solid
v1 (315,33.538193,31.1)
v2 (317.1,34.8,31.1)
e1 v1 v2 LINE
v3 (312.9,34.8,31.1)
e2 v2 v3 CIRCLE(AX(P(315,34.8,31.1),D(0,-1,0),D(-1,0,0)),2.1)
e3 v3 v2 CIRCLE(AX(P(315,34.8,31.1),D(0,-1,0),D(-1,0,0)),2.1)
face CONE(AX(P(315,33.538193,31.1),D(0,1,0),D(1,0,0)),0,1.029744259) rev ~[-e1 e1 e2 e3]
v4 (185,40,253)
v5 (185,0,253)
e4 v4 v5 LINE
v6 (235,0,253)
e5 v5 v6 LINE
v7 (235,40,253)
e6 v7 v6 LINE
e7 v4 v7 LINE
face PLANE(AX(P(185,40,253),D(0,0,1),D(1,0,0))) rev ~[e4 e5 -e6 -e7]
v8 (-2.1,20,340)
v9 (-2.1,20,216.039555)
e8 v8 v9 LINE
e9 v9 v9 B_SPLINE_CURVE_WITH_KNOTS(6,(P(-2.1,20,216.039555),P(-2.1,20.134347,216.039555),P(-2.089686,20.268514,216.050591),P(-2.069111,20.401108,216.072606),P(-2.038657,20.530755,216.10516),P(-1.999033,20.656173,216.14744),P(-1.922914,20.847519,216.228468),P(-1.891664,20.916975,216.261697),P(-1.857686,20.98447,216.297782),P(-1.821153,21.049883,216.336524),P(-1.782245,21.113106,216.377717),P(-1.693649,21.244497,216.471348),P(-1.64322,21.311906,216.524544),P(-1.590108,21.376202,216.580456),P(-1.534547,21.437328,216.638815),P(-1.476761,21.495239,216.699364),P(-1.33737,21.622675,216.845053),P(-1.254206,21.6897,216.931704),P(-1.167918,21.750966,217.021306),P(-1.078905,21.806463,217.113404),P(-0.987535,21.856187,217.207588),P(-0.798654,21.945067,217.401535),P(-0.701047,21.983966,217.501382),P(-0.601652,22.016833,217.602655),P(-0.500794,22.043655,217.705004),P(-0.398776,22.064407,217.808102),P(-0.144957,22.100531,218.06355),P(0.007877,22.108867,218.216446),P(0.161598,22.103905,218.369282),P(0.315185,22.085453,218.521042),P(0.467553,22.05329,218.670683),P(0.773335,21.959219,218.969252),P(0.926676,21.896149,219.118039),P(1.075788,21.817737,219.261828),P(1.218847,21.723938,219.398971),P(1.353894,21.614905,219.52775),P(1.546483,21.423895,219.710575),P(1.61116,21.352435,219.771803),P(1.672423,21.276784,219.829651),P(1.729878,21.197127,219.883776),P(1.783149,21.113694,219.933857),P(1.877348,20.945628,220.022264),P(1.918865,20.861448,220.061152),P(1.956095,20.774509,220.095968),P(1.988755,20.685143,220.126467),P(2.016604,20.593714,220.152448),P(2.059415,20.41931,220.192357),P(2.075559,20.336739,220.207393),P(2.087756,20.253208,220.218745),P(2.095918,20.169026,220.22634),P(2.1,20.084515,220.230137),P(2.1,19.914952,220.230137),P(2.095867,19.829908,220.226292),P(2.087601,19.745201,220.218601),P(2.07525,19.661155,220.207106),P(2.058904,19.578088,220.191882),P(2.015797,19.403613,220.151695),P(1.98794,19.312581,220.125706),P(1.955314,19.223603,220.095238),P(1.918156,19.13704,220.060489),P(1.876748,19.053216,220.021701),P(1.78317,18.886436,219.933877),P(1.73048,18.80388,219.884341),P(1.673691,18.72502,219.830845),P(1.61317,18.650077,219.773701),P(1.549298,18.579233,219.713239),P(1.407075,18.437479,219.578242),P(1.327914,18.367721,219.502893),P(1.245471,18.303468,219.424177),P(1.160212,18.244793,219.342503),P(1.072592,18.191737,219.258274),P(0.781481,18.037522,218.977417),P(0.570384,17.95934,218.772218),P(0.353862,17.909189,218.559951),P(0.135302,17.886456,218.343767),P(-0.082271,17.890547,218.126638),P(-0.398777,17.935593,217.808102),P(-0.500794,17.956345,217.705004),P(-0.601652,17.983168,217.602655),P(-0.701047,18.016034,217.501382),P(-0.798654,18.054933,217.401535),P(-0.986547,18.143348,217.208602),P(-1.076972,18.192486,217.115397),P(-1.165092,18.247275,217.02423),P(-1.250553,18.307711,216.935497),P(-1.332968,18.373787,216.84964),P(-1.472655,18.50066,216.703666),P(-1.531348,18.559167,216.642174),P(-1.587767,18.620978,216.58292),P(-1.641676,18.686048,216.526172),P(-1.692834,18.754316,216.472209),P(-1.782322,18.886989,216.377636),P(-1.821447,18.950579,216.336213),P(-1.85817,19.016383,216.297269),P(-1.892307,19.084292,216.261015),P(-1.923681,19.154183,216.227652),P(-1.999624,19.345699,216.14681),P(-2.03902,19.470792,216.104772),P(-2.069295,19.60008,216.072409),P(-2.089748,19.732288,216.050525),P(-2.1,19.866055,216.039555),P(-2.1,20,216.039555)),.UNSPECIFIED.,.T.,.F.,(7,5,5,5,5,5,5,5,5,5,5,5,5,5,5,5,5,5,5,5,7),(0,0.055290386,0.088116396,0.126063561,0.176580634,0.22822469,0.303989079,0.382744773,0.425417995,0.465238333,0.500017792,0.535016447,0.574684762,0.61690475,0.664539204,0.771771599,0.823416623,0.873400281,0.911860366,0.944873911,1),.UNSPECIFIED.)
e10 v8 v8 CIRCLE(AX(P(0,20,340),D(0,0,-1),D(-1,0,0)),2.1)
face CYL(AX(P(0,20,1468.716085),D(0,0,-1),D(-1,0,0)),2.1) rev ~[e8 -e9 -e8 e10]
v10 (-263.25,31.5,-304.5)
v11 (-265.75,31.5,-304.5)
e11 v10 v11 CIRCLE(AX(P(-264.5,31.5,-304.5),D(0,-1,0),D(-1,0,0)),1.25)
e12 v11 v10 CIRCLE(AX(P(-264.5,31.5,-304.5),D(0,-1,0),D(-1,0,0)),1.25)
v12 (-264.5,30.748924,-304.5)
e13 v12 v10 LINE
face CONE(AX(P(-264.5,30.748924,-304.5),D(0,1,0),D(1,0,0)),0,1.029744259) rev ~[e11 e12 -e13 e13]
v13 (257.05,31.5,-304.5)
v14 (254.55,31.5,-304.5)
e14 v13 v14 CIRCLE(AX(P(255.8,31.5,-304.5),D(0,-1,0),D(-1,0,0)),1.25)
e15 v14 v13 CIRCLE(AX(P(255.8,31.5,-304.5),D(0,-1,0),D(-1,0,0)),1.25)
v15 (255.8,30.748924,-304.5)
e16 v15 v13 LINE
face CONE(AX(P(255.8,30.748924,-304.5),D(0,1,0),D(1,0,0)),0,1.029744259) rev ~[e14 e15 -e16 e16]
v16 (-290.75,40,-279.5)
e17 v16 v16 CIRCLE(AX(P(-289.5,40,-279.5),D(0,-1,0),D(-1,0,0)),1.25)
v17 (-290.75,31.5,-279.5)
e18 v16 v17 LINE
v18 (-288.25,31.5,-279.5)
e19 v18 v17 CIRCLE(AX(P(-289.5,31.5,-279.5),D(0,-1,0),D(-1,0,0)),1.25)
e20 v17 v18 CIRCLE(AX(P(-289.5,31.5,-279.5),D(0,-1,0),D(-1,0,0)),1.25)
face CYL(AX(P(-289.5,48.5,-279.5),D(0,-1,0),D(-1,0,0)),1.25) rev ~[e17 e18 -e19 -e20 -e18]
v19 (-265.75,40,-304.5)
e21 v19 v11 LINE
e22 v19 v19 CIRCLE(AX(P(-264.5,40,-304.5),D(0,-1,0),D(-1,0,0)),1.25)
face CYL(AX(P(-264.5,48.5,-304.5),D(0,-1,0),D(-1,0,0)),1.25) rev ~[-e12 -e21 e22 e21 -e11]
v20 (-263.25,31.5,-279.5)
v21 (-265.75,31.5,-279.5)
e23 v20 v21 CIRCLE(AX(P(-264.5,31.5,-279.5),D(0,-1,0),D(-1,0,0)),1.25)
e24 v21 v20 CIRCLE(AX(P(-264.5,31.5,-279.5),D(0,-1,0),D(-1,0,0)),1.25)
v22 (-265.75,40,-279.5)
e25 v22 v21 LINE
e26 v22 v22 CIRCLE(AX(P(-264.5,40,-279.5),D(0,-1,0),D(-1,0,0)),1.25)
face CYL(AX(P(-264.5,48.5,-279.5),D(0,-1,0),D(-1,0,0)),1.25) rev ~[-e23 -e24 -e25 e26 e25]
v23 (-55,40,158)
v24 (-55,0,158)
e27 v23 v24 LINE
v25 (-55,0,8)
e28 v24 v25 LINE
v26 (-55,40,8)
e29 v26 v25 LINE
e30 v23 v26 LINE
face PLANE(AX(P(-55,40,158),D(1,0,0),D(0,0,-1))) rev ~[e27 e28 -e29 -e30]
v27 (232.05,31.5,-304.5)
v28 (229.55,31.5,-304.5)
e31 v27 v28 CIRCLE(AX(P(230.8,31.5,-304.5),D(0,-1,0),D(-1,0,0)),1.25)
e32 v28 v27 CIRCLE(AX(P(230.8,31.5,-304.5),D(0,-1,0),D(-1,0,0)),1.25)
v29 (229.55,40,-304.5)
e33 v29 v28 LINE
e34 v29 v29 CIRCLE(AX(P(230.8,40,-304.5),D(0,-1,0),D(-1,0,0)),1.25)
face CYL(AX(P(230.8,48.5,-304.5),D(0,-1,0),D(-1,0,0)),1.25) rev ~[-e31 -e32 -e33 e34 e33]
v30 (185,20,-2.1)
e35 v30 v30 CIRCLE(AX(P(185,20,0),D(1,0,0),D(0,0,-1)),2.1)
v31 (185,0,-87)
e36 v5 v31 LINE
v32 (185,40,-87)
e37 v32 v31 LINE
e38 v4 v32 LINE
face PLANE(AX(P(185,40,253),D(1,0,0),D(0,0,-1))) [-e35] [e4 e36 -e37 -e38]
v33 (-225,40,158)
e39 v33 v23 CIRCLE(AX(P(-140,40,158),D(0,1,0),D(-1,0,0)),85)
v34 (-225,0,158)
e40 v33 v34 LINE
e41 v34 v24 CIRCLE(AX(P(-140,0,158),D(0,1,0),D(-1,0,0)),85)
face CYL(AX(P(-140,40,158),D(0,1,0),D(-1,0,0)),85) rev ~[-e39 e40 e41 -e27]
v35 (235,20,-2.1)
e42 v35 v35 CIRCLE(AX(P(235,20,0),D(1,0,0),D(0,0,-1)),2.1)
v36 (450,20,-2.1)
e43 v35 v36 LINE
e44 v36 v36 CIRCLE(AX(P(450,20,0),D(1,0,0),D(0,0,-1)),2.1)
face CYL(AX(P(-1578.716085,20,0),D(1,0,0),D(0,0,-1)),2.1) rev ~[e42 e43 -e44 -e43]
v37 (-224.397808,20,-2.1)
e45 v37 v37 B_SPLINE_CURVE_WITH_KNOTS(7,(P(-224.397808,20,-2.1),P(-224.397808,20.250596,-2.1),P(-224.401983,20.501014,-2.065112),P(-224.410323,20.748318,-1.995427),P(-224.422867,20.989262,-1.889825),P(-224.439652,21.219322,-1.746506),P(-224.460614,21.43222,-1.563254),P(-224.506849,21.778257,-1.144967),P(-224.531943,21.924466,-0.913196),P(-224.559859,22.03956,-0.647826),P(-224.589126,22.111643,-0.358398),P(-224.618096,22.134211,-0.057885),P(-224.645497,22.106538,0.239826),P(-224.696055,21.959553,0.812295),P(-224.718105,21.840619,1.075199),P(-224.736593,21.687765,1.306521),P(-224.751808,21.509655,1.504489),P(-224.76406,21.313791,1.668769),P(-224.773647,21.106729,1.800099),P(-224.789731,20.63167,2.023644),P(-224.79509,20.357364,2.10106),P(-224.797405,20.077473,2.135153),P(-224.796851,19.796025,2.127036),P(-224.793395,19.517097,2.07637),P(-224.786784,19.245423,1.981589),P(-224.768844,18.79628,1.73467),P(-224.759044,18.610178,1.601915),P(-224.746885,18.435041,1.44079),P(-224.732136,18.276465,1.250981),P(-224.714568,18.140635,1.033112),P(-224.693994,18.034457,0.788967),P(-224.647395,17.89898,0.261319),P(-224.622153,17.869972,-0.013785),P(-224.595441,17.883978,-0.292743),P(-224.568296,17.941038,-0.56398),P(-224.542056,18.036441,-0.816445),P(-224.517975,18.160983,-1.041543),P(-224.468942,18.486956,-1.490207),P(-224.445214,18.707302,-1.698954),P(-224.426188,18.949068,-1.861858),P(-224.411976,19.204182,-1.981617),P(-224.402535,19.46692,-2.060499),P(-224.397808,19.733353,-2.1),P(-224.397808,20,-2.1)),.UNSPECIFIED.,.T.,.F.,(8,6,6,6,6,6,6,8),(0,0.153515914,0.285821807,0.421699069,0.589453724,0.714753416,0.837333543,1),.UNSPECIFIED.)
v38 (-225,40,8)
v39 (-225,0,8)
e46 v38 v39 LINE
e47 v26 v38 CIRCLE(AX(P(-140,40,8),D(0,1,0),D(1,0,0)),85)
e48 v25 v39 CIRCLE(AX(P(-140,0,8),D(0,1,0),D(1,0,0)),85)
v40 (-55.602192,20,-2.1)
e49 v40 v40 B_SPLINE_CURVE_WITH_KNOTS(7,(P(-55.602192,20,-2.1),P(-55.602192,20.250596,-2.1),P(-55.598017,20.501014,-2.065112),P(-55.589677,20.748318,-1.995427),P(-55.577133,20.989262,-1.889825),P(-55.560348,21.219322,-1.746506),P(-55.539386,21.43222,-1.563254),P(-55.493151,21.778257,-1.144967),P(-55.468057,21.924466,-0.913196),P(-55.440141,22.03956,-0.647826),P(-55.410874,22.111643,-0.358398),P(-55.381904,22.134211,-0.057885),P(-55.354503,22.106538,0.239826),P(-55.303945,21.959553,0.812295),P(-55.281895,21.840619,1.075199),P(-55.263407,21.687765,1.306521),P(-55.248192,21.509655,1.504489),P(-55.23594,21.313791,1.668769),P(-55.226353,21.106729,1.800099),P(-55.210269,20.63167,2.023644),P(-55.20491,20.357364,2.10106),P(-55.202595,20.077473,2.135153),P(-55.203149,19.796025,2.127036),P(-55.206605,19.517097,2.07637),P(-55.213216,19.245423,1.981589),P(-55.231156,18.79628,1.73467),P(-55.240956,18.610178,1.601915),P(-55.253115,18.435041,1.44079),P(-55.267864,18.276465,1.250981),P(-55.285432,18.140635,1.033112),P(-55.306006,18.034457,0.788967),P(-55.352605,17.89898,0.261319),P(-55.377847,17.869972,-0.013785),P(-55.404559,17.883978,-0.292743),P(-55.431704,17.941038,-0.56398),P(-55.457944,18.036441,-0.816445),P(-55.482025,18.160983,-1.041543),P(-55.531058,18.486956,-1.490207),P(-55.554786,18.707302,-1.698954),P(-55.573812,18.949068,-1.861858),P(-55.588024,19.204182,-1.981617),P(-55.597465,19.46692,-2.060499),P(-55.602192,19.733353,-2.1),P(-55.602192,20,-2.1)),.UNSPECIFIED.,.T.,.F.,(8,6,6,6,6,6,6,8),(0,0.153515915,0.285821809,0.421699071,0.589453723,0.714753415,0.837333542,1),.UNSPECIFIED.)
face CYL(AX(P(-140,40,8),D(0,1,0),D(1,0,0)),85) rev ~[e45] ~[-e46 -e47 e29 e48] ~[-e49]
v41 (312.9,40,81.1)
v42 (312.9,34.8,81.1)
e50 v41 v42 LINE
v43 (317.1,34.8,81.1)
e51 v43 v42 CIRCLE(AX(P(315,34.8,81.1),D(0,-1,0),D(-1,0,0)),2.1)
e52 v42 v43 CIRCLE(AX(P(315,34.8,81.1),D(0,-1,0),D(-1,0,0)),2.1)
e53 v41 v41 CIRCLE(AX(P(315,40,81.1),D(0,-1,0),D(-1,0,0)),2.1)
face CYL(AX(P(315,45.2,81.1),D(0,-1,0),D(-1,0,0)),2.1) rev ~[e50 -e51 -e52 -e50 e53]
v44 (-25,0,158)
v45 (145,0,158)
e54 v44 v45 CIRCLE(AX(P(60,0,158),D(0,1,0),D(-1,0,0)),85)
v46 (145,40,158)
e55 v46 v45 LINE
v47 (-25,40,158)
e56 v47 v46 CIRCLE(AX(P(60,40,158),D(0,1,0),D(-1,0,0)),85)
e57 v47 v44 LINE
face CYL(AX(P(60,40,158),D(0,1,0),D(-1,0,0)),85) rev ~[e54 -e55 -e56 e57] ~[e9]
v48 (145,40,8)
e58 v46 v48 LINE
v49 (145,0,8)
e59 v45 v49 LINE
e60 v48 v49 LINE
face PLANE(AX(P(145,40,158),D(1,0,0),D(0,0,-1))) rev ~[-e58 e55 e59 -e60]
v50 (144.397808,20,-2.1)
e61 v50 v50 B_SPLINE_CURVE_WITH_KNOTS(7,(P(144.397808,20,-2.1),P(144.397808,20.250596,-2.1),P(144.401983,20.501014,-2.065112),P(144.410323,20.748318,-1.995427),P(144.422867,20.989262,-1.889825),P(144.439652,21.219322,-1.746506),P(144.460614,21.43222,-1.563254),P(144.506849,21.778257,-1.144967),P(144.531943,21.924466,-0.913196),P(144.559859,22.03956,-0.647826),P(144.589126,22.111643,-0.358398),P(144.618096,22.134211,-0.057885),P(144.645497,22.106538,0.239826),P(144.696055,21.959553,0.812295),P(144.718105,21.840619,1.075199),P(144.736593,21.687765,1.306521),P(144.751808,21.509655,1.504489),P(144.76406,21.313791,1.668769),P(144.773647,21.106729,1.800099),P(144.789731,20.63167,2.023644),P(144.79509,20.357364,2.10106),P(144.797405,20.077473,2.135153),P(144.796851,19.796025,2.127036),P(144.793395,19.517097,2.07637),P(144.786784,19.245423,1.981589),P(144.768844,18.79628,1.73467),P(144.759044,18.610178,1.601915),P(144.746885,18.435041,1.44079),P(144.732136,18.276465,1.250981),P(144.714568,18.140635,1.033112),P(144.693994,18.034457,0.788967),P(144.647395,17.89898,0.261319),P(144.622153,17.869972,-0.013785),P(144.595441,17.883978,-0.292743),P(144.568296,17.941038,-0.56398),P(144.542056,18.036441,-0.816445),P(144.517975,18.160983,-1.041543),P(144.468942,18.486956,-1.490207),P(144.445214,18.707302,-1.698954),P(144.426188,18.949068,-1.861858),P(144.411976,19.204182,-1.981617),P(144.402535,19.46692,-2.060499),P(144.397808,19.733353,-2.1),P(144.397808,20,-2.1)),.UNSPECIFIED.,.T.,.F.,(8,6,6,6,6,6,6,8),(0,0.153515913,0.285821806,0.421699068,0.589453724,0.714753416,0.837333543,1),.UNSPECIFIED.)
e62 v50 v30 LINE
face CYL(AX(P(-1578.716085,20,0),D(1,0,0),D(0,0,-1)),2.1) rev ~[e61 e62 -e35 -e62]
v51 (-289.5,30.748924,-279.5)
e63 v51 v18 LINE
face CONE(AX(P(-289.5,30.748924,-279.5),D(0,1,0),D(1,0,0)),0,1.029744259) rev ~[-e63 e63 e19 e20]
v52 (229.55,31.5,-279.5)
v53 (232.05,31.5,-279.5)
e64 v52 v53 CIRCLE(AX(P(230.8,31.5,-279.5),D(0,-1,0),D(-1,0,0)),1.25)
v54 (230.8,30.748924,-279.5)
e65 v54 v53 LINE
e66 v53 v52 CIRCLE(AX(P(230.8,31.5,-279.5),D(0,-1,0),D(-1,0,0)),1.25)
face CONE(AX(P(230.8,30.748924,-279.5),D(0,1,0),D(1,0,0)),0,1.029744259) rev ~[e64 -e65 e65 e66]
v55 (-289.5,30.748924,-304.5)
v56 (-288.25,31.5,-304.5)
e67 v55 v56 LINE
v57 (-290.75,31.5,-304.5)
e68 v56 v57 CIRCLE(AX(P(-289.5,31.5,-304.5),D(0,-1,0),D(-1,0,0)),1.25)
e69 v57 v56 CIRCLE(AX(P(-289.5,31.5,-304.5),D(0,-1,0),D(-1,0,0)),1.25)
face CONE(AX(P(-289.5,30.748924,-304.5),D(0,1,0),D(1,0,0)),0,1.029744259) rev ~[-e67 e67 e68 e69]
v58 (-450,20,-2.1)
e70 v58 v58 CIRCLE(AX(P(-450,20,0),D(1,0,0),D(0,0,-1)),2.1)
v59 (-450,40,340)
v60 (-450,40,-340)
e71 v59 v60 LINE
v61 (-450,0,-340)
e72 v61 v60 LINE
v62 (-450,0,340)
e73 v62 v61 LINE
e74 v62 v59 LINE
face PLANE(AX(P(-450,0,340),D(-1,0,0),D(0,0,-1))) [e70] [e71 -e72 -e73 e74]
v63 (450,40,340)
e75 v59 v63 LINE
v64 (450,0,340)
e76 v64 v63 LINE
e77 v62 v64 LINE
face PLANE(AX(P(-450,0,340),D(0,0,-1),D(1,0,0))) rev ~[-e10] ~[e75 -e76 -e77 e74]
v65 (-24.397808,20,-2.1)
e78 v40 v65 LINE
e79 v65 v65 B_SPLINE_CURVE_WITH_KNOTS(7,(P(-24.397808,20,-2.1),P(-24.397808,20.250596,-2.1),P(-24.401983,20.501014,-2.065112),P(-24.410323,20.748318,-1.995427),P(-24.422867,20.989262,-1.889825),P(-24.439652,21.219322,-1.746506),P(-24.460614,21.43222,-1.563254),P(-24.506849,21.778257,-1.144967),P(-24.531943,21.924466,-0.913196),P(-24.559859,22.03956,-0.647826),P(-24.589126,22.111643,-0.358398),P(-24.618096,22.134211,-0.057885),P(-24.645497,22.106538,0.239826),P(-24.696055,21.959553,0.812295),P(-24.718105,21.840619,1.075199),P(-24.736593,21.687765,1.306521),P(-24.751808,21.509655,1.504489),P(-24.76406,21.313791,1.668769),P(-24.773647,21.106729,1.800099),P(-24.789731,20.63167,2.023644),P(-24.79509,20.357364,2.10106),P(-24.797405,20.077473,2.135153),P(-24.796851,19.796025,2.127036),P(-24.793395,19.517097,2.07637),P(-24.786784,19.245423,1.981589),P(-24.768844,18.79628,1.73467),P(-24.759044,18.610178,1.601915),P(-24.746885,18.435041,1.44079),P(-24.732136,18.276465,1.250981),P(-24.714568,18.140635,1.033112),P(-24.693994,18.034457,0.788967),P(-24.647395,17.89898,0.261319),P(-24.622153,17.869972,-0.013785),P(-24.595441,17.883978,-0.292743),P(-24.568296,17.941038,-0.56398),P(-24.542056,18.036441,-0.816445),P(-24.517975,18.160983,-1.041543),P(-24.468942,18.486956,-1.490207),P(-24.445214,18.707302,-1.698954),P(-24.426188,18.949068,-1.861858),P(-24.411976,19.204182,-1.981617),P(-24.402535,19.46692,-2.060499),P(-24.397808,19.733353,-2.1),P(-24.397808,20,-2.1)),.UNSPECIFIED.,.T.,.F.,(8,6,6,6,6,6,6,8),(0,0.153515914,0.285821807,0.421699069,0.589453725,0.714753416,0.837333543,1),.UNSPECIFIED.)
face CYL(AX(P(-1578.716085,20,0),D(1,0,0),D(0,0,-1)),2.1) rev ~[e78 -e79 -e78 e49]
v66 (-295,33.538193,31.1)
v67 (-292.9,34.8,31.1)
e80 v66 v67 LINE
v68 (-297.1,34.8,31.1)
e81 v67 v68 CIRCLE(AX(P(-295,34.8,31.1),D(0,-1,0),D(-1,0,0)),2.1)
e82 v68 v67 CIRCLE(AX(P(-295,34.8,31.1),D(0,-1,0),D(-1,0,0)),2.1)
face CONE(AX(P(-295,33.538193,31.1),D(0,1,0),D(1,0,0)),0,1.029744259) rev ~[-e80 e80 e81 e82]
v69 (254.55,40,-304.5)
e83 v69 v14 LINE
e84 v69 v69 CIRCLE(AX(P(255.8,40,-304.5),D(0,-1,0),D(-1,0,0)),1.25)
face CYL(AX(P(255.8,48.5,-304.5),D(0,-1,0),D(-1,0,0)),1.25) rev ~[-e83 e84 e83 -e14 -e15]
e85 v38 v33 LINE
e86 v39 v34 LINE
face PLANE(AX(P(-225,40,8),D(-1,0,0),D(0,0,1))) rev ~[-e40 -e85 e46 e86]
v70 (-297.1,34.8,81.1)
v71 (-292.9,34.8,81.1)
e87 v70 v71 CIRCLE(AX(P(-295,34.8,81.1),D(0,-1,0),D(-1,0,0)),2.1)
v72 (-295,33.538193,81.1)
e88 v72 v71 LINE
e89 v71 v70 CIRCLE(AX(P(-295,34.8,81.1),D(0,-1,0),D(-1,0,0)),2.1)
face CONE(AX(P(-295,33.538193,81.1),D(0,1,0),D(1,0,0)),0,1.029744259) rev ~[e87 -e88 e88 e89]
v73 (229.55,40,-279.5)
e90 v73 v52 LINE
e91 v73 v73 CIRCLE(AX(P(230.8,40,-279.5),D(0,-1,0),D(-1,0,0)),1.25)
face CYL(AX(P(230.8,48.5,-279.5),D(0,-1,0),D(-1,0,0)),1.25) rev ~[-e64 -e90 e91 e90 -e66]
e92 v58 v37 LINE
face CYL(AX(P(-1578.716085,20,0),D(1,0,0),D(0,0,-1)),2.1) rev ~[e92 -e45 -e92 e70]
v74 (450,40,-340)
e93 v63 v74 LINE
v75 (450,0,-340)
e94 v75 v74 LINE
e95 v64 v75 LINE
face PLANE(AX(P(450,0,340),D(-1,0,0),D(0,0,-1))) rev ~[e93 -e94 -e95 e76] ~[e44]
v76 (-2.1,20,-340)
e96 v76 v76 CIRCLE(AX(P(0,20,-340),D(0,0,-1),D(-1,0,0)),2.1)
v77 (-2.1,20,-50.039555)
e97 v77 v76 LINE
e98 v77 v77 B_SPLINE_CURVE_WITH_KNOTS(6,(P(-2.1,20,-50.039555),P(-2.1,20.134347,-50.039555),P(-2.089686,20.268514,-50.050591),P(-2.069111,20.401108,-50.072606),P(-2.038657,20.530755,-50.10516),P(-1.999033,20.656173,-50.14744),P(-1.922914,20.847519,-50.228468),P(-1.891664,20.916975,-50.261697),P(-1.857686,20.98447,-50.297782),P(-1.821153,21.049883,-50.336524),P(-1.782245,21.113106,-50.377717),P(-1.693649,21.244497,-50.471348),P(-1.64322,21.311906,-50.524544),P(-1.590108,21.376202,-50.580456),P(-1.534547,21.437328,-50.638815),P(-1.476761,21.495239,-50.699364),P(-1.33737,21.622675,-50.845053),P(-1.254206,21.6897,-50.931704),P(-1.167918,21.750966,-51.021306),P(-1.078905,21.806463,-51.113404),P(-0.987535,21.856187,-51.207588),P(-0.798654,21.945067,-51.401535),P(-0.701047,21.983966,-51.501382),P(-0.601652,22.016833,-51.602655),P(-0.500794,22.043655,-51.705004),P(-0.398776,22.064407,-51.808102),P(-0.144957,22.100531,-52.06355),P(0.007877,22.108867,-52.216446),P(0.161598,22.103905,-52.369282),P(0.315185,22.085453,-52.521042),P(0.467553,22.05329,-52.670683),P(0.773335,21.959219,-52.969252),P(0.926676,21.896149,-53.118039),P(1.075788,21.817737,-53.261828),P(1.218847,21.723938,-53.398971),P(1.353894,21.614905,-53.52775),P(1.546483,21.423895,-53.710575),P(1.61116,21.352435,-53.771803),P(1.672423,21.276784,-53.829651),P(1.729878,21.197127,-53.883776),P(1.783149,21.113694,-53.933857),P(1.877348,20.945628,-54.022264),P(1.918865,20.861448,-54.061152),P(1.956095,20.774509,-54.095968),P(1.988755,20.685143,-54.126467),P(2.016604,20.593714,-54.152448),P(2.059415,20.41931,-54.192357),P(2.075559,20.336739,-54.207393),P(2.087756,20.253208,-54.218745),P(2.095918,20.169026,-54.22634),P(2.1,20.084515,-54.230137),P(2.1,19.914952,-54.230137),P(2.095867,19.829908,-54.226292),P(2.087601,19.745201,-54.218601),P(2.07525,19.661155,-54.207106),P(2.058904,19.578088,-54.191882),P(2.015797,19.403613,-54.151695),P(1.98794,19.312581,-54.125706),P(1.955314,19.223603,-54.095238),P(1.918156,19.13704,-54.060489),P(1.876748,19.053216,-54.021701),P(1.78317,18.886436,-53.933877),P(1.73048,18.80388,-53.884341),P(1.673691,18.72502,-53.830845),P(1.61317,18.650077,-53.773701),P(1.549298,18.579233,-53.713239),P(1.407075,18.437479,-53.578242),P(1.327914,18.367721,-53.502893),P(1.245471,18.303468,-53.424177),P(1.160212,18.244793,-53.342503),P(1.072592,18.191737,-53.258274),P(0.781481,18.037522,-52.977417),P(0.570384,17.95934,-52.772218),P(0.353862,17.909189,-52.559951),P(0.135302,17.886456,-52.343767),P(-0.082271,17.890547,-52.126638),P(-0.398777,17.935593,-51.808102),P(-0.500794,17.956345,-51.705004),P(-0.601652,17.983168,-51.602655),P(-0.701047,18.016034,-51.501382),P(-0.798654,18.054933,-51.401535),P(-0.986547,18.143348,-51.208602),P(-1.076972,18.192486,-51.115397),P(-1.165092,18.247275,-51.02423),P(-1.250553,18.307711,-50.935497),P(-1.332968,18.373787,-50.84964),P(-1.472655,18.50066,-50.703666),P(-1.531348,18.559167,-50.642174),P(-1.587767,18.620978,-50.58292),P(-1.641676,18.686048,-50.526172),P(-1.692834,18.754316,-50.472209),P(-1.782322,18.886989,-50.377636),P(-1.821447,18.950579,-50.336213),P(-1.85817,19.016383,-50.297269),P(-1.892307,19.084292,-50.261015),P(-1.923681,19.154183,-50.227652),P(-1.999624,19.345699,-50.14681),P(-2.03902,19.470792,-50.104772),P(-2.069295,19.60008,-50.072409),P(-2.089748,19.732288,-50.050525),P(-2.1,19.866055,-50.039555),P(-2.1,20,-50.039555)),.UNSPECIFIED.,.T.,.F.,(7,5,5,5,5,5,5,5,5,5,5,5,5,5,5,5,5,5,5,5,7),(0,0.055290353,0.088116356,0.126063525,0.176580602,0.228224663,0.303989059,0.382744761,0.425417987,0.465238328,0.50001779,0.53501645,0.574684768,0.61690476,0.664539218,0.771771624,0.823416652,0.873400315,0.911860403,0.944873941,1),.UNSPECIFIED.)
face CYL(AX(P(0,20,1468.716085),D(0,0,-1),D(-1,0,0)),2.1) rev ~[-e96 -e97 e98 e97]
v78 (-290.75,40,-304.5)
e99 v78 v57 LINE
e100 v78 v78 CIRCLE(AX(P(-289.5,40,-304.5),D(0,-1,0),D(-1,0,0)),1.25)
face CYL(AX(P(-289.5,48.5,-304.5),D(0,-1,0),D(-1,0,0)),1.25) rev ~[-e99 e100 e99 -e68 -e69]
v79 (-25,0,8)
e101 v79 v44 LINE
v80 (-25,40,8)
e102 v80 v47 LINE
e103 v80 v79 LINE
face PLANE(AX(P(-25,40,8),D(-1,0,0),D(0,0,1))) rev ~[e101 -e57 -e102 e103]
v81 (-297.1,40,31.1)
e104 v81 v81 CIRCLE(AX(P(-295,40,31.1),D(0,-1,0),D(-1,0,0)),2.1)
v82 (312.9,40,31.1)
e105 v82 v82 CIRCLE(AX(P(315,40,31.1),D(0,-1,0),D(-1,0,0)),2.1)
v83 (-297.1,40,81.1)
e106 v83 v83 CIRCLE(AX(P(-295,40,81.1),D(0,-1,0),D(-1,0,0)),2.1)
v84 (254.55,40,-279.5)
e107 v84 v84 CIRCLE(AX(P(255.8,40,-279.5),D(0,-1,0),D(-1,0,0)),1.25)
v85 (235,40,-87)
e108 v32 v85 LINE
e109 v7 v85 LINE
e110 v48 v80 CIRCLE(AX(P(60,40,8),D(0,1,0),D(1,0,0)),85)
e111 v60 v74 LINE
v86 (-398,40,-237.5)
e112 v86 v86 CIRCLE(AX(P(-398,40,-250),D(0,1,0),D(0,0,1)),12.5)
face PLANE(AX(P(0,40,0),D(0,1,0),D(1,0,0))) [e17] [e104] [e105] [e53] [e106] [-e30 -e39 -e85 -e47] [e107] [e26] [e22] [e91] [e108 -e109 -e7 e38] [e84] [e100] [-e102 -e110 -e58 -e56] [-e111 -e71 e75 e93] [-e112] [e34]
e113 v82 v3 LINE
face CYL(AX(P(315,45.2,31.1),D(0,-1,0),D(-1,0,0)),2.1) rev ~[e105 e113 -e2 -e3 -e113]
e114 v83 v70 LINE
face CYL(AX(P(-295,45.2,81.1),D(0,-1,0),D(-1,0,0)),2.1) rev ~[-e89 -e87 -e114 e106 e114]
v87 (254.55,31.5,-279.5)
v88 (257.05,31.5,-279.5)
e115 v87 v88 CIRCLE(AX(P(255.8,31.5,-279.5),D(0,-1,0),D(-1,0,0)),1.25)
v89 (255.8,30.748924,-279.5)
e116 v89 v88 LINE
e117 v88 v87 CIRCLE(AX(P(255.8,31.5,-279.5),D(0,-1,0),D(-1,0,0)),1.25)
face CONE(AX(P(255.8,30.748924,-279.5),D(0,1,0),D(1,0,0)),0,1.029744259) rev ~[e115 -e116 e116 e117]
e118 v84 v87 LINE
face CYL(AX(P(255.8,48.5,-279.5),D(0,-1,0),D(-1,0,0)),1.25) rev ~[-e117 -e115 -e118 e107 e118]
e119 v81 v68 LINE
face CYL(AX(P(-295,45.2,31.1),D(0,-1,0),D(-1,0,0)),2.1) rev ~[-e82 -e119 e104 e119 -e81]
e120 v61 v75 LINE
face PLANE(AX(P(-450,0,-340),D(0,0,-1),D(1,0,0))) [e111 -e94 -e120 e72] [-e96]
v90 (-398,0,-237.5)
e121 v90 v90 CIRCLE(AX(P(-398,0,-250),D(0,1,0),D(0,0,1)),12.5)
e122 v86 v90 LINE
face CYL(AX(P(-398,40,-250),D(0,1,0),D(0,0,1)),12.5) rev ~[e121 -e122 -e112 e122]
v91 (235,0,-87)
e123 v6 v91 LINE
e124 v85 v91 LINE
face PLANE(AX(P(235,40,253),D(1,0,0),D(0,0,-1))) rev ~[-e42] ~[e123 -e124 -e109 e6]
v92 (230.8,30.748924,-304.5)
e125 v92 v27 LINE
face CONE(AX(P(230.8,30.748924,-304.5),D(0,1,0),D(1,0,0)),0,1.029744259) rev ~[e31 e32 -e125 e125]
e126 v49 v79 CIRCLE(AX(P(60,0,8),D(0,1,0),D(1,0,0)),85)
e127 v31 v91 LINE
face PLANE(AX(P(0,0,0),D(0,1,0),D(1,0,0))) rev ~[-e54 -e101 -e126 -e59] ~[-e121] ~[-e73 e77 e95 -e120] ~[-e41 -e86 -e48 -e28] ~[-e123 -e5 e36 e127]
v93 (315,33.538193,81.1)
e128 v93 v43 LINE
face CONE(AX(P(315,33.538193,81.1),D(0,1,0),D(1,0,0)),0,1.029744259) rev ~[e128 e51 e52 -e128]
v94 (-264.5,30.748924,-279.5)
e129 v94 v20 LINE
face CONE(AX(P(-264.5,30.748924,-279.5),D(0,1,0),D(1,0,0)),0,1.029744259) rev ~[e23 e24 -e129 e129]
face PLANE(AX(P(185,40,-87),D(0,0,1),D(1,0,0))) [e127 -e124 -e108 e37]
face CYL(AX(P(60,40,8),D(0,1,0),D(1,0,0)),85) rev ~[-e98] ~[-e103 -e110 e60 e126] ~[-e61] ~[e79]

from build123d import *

# Parameters (mm, degrees)
SKETCH_1_W             = 900
SKETCH_1_H             = 680
EXTRUDE_1_DEPTH        = 40
SKETCH_2_W             = 50
SKETCH_2_H             = 340
CUT_EXTRUDE_1_DEPTH    = 566.420197729
HOLE_WIZARD_M5_1_D     = 4.2
HOLE_WIZARD_M5_2_D     = 4.2
SKETCH_9_R             = 12.5
CUT_EXTRUDE_2_DEPTH    = 566.420197876
HOLE_WIZARD_M5_3_D     = 4.2
HOLE_WIZARD_M5_3_DEPTH = 5.2
HOLE_WIZARD_M5_3_TIP   = 1.2618073
HOLE_WIZARD_M3_1_D     = 2.5
HOLE_WIZARD_M3_1_DEPTH = 8.5
HOLE_WIZARD_M3_1_TIP   = 0.751075774


with BuildPart() as part:
    # 草图1 → 凸台-拉伸1 (new body)
    with BuildSketch(Plane(origin=(0, 0, 0), x_dir=(1, 0, 0), z_dir=(0, 1, 0))):
        Rectangle(SKETCH_1_W, SKETCH_1_H)
    extrude(amount=EXTRUDE_1_DEPTH)

    # 草图2 → 切除-拉伸1 (cut, through all)
    with BuildSketch(Plane(origin=(0, 40, 0), x_dir=(1, 0, 0), z_dir=(0, 1, 0))):
        with BuildLine():
            Line((-25, -8), (-25, -158))
            ThreePointArc((-25, -158), (60, -243), (145, -158))
            Line((145, -158), (145, -8))
            ThreePointArc((145, -8), (60, 77), (-25, -8))
        make_face()
        with BuildLine():
            Line((-225, -8), (-225, -158))
            ThreePointArc((-225, -158), (-140, -243), (-55, -158))
            Line((-55, -158), (-55, -8))
            ThreePointArc((-55, -8), (-140, 77), (-225, -8))
        make_face()
        with Locations((210, -83)):
            Rectangle(SKETCH_2_W, SKETCH_2_H)
    extrude(amount=-CUT_EXTRUDE_1_DEPTH, mode=Mode.SUBTRACT)

    # M5 螺纹孔1 (through all)
    with Locations(Plane.XY.offset(340)):
        with Locations((0, 20)):
            Hole(HOLE_WIZARD_M5_1_D / 2)

    # M5 螺纹孔2 (through all)
    with Locations(Plane.ZY.offset(450)):
        with Locations((0, 20)):
            Hole(HOLE_WIZARD_M5_2_D / 2)

    # 草图9 → 切除-拉伸2 (cut, through all)
    with BuildSketch(Plane(origin=(0, 40, 0), x_dir=(1, 0, 0), z_dir=(0, 1, 0))):
        with Locations(Location((-398, 250, 0), (0, 0, 270))):
            Circle(SKETCH_9_R)
    extrude(amount=-CUT_EXTRUDE_2_DEPTH, mode=Mode.SUBTRACT)

    # M5 螺纹孔3
    with Locations(Plane(origin=(0, 40, 0), x_dir=(1, 0, 0), z_dir=(0, 1, 0))):
        with Locations((-295, -31.1), (-295, -81.1), (315, -31.1), (315, -81.1)):
            Hole(HOLE_WIZARD_M5_3_D / 2, depth=HOLE_WIZARD_M5_3_DEPTH)
            with Locations((0, 0, -(HOLE_WIZARD_M5_3_DEPTH + HOLE_WIZARD_M5_3_TIP / 2))):  # 118° drill point
                Cone(0, HOLE_WIZARD_M5_3_D / 2, HOLE_WIZARD_M5_3_TIP, mode=Mode.SUBTRACT)

    # M3 螺纹孔1
    with Locations(Plane(origin=(0, 40, 0), x_dir=(1, 0, 0), z_dir=(0, 1, 0))):
        with Locations((-289.5, 304.5), (-264.5, 304.5), (-264.5, 279.5), (-289.5, 279.5), (255.8, 304.5), (255.8, 279.5), (230.8, 279.5), (230.8, 304.5)):
            Hole(HOLE_WIZARD_M3_1_D / 2, depth=HOLE_WIZARD_M3_1_DEPTH)
            with Locations((0, 0, -(HOLE_WIZARD_M3_1_DEPTH + HOLE_WIZARD_M3_1_TIP / 2))):  # 118° drill point
                Cone(0, HOLE_WIZARD_M3_1_D / 2, HOLE_WIZARD_M3_1_TIP, mode=Mode.SUBTRACT)


solid = part.part
